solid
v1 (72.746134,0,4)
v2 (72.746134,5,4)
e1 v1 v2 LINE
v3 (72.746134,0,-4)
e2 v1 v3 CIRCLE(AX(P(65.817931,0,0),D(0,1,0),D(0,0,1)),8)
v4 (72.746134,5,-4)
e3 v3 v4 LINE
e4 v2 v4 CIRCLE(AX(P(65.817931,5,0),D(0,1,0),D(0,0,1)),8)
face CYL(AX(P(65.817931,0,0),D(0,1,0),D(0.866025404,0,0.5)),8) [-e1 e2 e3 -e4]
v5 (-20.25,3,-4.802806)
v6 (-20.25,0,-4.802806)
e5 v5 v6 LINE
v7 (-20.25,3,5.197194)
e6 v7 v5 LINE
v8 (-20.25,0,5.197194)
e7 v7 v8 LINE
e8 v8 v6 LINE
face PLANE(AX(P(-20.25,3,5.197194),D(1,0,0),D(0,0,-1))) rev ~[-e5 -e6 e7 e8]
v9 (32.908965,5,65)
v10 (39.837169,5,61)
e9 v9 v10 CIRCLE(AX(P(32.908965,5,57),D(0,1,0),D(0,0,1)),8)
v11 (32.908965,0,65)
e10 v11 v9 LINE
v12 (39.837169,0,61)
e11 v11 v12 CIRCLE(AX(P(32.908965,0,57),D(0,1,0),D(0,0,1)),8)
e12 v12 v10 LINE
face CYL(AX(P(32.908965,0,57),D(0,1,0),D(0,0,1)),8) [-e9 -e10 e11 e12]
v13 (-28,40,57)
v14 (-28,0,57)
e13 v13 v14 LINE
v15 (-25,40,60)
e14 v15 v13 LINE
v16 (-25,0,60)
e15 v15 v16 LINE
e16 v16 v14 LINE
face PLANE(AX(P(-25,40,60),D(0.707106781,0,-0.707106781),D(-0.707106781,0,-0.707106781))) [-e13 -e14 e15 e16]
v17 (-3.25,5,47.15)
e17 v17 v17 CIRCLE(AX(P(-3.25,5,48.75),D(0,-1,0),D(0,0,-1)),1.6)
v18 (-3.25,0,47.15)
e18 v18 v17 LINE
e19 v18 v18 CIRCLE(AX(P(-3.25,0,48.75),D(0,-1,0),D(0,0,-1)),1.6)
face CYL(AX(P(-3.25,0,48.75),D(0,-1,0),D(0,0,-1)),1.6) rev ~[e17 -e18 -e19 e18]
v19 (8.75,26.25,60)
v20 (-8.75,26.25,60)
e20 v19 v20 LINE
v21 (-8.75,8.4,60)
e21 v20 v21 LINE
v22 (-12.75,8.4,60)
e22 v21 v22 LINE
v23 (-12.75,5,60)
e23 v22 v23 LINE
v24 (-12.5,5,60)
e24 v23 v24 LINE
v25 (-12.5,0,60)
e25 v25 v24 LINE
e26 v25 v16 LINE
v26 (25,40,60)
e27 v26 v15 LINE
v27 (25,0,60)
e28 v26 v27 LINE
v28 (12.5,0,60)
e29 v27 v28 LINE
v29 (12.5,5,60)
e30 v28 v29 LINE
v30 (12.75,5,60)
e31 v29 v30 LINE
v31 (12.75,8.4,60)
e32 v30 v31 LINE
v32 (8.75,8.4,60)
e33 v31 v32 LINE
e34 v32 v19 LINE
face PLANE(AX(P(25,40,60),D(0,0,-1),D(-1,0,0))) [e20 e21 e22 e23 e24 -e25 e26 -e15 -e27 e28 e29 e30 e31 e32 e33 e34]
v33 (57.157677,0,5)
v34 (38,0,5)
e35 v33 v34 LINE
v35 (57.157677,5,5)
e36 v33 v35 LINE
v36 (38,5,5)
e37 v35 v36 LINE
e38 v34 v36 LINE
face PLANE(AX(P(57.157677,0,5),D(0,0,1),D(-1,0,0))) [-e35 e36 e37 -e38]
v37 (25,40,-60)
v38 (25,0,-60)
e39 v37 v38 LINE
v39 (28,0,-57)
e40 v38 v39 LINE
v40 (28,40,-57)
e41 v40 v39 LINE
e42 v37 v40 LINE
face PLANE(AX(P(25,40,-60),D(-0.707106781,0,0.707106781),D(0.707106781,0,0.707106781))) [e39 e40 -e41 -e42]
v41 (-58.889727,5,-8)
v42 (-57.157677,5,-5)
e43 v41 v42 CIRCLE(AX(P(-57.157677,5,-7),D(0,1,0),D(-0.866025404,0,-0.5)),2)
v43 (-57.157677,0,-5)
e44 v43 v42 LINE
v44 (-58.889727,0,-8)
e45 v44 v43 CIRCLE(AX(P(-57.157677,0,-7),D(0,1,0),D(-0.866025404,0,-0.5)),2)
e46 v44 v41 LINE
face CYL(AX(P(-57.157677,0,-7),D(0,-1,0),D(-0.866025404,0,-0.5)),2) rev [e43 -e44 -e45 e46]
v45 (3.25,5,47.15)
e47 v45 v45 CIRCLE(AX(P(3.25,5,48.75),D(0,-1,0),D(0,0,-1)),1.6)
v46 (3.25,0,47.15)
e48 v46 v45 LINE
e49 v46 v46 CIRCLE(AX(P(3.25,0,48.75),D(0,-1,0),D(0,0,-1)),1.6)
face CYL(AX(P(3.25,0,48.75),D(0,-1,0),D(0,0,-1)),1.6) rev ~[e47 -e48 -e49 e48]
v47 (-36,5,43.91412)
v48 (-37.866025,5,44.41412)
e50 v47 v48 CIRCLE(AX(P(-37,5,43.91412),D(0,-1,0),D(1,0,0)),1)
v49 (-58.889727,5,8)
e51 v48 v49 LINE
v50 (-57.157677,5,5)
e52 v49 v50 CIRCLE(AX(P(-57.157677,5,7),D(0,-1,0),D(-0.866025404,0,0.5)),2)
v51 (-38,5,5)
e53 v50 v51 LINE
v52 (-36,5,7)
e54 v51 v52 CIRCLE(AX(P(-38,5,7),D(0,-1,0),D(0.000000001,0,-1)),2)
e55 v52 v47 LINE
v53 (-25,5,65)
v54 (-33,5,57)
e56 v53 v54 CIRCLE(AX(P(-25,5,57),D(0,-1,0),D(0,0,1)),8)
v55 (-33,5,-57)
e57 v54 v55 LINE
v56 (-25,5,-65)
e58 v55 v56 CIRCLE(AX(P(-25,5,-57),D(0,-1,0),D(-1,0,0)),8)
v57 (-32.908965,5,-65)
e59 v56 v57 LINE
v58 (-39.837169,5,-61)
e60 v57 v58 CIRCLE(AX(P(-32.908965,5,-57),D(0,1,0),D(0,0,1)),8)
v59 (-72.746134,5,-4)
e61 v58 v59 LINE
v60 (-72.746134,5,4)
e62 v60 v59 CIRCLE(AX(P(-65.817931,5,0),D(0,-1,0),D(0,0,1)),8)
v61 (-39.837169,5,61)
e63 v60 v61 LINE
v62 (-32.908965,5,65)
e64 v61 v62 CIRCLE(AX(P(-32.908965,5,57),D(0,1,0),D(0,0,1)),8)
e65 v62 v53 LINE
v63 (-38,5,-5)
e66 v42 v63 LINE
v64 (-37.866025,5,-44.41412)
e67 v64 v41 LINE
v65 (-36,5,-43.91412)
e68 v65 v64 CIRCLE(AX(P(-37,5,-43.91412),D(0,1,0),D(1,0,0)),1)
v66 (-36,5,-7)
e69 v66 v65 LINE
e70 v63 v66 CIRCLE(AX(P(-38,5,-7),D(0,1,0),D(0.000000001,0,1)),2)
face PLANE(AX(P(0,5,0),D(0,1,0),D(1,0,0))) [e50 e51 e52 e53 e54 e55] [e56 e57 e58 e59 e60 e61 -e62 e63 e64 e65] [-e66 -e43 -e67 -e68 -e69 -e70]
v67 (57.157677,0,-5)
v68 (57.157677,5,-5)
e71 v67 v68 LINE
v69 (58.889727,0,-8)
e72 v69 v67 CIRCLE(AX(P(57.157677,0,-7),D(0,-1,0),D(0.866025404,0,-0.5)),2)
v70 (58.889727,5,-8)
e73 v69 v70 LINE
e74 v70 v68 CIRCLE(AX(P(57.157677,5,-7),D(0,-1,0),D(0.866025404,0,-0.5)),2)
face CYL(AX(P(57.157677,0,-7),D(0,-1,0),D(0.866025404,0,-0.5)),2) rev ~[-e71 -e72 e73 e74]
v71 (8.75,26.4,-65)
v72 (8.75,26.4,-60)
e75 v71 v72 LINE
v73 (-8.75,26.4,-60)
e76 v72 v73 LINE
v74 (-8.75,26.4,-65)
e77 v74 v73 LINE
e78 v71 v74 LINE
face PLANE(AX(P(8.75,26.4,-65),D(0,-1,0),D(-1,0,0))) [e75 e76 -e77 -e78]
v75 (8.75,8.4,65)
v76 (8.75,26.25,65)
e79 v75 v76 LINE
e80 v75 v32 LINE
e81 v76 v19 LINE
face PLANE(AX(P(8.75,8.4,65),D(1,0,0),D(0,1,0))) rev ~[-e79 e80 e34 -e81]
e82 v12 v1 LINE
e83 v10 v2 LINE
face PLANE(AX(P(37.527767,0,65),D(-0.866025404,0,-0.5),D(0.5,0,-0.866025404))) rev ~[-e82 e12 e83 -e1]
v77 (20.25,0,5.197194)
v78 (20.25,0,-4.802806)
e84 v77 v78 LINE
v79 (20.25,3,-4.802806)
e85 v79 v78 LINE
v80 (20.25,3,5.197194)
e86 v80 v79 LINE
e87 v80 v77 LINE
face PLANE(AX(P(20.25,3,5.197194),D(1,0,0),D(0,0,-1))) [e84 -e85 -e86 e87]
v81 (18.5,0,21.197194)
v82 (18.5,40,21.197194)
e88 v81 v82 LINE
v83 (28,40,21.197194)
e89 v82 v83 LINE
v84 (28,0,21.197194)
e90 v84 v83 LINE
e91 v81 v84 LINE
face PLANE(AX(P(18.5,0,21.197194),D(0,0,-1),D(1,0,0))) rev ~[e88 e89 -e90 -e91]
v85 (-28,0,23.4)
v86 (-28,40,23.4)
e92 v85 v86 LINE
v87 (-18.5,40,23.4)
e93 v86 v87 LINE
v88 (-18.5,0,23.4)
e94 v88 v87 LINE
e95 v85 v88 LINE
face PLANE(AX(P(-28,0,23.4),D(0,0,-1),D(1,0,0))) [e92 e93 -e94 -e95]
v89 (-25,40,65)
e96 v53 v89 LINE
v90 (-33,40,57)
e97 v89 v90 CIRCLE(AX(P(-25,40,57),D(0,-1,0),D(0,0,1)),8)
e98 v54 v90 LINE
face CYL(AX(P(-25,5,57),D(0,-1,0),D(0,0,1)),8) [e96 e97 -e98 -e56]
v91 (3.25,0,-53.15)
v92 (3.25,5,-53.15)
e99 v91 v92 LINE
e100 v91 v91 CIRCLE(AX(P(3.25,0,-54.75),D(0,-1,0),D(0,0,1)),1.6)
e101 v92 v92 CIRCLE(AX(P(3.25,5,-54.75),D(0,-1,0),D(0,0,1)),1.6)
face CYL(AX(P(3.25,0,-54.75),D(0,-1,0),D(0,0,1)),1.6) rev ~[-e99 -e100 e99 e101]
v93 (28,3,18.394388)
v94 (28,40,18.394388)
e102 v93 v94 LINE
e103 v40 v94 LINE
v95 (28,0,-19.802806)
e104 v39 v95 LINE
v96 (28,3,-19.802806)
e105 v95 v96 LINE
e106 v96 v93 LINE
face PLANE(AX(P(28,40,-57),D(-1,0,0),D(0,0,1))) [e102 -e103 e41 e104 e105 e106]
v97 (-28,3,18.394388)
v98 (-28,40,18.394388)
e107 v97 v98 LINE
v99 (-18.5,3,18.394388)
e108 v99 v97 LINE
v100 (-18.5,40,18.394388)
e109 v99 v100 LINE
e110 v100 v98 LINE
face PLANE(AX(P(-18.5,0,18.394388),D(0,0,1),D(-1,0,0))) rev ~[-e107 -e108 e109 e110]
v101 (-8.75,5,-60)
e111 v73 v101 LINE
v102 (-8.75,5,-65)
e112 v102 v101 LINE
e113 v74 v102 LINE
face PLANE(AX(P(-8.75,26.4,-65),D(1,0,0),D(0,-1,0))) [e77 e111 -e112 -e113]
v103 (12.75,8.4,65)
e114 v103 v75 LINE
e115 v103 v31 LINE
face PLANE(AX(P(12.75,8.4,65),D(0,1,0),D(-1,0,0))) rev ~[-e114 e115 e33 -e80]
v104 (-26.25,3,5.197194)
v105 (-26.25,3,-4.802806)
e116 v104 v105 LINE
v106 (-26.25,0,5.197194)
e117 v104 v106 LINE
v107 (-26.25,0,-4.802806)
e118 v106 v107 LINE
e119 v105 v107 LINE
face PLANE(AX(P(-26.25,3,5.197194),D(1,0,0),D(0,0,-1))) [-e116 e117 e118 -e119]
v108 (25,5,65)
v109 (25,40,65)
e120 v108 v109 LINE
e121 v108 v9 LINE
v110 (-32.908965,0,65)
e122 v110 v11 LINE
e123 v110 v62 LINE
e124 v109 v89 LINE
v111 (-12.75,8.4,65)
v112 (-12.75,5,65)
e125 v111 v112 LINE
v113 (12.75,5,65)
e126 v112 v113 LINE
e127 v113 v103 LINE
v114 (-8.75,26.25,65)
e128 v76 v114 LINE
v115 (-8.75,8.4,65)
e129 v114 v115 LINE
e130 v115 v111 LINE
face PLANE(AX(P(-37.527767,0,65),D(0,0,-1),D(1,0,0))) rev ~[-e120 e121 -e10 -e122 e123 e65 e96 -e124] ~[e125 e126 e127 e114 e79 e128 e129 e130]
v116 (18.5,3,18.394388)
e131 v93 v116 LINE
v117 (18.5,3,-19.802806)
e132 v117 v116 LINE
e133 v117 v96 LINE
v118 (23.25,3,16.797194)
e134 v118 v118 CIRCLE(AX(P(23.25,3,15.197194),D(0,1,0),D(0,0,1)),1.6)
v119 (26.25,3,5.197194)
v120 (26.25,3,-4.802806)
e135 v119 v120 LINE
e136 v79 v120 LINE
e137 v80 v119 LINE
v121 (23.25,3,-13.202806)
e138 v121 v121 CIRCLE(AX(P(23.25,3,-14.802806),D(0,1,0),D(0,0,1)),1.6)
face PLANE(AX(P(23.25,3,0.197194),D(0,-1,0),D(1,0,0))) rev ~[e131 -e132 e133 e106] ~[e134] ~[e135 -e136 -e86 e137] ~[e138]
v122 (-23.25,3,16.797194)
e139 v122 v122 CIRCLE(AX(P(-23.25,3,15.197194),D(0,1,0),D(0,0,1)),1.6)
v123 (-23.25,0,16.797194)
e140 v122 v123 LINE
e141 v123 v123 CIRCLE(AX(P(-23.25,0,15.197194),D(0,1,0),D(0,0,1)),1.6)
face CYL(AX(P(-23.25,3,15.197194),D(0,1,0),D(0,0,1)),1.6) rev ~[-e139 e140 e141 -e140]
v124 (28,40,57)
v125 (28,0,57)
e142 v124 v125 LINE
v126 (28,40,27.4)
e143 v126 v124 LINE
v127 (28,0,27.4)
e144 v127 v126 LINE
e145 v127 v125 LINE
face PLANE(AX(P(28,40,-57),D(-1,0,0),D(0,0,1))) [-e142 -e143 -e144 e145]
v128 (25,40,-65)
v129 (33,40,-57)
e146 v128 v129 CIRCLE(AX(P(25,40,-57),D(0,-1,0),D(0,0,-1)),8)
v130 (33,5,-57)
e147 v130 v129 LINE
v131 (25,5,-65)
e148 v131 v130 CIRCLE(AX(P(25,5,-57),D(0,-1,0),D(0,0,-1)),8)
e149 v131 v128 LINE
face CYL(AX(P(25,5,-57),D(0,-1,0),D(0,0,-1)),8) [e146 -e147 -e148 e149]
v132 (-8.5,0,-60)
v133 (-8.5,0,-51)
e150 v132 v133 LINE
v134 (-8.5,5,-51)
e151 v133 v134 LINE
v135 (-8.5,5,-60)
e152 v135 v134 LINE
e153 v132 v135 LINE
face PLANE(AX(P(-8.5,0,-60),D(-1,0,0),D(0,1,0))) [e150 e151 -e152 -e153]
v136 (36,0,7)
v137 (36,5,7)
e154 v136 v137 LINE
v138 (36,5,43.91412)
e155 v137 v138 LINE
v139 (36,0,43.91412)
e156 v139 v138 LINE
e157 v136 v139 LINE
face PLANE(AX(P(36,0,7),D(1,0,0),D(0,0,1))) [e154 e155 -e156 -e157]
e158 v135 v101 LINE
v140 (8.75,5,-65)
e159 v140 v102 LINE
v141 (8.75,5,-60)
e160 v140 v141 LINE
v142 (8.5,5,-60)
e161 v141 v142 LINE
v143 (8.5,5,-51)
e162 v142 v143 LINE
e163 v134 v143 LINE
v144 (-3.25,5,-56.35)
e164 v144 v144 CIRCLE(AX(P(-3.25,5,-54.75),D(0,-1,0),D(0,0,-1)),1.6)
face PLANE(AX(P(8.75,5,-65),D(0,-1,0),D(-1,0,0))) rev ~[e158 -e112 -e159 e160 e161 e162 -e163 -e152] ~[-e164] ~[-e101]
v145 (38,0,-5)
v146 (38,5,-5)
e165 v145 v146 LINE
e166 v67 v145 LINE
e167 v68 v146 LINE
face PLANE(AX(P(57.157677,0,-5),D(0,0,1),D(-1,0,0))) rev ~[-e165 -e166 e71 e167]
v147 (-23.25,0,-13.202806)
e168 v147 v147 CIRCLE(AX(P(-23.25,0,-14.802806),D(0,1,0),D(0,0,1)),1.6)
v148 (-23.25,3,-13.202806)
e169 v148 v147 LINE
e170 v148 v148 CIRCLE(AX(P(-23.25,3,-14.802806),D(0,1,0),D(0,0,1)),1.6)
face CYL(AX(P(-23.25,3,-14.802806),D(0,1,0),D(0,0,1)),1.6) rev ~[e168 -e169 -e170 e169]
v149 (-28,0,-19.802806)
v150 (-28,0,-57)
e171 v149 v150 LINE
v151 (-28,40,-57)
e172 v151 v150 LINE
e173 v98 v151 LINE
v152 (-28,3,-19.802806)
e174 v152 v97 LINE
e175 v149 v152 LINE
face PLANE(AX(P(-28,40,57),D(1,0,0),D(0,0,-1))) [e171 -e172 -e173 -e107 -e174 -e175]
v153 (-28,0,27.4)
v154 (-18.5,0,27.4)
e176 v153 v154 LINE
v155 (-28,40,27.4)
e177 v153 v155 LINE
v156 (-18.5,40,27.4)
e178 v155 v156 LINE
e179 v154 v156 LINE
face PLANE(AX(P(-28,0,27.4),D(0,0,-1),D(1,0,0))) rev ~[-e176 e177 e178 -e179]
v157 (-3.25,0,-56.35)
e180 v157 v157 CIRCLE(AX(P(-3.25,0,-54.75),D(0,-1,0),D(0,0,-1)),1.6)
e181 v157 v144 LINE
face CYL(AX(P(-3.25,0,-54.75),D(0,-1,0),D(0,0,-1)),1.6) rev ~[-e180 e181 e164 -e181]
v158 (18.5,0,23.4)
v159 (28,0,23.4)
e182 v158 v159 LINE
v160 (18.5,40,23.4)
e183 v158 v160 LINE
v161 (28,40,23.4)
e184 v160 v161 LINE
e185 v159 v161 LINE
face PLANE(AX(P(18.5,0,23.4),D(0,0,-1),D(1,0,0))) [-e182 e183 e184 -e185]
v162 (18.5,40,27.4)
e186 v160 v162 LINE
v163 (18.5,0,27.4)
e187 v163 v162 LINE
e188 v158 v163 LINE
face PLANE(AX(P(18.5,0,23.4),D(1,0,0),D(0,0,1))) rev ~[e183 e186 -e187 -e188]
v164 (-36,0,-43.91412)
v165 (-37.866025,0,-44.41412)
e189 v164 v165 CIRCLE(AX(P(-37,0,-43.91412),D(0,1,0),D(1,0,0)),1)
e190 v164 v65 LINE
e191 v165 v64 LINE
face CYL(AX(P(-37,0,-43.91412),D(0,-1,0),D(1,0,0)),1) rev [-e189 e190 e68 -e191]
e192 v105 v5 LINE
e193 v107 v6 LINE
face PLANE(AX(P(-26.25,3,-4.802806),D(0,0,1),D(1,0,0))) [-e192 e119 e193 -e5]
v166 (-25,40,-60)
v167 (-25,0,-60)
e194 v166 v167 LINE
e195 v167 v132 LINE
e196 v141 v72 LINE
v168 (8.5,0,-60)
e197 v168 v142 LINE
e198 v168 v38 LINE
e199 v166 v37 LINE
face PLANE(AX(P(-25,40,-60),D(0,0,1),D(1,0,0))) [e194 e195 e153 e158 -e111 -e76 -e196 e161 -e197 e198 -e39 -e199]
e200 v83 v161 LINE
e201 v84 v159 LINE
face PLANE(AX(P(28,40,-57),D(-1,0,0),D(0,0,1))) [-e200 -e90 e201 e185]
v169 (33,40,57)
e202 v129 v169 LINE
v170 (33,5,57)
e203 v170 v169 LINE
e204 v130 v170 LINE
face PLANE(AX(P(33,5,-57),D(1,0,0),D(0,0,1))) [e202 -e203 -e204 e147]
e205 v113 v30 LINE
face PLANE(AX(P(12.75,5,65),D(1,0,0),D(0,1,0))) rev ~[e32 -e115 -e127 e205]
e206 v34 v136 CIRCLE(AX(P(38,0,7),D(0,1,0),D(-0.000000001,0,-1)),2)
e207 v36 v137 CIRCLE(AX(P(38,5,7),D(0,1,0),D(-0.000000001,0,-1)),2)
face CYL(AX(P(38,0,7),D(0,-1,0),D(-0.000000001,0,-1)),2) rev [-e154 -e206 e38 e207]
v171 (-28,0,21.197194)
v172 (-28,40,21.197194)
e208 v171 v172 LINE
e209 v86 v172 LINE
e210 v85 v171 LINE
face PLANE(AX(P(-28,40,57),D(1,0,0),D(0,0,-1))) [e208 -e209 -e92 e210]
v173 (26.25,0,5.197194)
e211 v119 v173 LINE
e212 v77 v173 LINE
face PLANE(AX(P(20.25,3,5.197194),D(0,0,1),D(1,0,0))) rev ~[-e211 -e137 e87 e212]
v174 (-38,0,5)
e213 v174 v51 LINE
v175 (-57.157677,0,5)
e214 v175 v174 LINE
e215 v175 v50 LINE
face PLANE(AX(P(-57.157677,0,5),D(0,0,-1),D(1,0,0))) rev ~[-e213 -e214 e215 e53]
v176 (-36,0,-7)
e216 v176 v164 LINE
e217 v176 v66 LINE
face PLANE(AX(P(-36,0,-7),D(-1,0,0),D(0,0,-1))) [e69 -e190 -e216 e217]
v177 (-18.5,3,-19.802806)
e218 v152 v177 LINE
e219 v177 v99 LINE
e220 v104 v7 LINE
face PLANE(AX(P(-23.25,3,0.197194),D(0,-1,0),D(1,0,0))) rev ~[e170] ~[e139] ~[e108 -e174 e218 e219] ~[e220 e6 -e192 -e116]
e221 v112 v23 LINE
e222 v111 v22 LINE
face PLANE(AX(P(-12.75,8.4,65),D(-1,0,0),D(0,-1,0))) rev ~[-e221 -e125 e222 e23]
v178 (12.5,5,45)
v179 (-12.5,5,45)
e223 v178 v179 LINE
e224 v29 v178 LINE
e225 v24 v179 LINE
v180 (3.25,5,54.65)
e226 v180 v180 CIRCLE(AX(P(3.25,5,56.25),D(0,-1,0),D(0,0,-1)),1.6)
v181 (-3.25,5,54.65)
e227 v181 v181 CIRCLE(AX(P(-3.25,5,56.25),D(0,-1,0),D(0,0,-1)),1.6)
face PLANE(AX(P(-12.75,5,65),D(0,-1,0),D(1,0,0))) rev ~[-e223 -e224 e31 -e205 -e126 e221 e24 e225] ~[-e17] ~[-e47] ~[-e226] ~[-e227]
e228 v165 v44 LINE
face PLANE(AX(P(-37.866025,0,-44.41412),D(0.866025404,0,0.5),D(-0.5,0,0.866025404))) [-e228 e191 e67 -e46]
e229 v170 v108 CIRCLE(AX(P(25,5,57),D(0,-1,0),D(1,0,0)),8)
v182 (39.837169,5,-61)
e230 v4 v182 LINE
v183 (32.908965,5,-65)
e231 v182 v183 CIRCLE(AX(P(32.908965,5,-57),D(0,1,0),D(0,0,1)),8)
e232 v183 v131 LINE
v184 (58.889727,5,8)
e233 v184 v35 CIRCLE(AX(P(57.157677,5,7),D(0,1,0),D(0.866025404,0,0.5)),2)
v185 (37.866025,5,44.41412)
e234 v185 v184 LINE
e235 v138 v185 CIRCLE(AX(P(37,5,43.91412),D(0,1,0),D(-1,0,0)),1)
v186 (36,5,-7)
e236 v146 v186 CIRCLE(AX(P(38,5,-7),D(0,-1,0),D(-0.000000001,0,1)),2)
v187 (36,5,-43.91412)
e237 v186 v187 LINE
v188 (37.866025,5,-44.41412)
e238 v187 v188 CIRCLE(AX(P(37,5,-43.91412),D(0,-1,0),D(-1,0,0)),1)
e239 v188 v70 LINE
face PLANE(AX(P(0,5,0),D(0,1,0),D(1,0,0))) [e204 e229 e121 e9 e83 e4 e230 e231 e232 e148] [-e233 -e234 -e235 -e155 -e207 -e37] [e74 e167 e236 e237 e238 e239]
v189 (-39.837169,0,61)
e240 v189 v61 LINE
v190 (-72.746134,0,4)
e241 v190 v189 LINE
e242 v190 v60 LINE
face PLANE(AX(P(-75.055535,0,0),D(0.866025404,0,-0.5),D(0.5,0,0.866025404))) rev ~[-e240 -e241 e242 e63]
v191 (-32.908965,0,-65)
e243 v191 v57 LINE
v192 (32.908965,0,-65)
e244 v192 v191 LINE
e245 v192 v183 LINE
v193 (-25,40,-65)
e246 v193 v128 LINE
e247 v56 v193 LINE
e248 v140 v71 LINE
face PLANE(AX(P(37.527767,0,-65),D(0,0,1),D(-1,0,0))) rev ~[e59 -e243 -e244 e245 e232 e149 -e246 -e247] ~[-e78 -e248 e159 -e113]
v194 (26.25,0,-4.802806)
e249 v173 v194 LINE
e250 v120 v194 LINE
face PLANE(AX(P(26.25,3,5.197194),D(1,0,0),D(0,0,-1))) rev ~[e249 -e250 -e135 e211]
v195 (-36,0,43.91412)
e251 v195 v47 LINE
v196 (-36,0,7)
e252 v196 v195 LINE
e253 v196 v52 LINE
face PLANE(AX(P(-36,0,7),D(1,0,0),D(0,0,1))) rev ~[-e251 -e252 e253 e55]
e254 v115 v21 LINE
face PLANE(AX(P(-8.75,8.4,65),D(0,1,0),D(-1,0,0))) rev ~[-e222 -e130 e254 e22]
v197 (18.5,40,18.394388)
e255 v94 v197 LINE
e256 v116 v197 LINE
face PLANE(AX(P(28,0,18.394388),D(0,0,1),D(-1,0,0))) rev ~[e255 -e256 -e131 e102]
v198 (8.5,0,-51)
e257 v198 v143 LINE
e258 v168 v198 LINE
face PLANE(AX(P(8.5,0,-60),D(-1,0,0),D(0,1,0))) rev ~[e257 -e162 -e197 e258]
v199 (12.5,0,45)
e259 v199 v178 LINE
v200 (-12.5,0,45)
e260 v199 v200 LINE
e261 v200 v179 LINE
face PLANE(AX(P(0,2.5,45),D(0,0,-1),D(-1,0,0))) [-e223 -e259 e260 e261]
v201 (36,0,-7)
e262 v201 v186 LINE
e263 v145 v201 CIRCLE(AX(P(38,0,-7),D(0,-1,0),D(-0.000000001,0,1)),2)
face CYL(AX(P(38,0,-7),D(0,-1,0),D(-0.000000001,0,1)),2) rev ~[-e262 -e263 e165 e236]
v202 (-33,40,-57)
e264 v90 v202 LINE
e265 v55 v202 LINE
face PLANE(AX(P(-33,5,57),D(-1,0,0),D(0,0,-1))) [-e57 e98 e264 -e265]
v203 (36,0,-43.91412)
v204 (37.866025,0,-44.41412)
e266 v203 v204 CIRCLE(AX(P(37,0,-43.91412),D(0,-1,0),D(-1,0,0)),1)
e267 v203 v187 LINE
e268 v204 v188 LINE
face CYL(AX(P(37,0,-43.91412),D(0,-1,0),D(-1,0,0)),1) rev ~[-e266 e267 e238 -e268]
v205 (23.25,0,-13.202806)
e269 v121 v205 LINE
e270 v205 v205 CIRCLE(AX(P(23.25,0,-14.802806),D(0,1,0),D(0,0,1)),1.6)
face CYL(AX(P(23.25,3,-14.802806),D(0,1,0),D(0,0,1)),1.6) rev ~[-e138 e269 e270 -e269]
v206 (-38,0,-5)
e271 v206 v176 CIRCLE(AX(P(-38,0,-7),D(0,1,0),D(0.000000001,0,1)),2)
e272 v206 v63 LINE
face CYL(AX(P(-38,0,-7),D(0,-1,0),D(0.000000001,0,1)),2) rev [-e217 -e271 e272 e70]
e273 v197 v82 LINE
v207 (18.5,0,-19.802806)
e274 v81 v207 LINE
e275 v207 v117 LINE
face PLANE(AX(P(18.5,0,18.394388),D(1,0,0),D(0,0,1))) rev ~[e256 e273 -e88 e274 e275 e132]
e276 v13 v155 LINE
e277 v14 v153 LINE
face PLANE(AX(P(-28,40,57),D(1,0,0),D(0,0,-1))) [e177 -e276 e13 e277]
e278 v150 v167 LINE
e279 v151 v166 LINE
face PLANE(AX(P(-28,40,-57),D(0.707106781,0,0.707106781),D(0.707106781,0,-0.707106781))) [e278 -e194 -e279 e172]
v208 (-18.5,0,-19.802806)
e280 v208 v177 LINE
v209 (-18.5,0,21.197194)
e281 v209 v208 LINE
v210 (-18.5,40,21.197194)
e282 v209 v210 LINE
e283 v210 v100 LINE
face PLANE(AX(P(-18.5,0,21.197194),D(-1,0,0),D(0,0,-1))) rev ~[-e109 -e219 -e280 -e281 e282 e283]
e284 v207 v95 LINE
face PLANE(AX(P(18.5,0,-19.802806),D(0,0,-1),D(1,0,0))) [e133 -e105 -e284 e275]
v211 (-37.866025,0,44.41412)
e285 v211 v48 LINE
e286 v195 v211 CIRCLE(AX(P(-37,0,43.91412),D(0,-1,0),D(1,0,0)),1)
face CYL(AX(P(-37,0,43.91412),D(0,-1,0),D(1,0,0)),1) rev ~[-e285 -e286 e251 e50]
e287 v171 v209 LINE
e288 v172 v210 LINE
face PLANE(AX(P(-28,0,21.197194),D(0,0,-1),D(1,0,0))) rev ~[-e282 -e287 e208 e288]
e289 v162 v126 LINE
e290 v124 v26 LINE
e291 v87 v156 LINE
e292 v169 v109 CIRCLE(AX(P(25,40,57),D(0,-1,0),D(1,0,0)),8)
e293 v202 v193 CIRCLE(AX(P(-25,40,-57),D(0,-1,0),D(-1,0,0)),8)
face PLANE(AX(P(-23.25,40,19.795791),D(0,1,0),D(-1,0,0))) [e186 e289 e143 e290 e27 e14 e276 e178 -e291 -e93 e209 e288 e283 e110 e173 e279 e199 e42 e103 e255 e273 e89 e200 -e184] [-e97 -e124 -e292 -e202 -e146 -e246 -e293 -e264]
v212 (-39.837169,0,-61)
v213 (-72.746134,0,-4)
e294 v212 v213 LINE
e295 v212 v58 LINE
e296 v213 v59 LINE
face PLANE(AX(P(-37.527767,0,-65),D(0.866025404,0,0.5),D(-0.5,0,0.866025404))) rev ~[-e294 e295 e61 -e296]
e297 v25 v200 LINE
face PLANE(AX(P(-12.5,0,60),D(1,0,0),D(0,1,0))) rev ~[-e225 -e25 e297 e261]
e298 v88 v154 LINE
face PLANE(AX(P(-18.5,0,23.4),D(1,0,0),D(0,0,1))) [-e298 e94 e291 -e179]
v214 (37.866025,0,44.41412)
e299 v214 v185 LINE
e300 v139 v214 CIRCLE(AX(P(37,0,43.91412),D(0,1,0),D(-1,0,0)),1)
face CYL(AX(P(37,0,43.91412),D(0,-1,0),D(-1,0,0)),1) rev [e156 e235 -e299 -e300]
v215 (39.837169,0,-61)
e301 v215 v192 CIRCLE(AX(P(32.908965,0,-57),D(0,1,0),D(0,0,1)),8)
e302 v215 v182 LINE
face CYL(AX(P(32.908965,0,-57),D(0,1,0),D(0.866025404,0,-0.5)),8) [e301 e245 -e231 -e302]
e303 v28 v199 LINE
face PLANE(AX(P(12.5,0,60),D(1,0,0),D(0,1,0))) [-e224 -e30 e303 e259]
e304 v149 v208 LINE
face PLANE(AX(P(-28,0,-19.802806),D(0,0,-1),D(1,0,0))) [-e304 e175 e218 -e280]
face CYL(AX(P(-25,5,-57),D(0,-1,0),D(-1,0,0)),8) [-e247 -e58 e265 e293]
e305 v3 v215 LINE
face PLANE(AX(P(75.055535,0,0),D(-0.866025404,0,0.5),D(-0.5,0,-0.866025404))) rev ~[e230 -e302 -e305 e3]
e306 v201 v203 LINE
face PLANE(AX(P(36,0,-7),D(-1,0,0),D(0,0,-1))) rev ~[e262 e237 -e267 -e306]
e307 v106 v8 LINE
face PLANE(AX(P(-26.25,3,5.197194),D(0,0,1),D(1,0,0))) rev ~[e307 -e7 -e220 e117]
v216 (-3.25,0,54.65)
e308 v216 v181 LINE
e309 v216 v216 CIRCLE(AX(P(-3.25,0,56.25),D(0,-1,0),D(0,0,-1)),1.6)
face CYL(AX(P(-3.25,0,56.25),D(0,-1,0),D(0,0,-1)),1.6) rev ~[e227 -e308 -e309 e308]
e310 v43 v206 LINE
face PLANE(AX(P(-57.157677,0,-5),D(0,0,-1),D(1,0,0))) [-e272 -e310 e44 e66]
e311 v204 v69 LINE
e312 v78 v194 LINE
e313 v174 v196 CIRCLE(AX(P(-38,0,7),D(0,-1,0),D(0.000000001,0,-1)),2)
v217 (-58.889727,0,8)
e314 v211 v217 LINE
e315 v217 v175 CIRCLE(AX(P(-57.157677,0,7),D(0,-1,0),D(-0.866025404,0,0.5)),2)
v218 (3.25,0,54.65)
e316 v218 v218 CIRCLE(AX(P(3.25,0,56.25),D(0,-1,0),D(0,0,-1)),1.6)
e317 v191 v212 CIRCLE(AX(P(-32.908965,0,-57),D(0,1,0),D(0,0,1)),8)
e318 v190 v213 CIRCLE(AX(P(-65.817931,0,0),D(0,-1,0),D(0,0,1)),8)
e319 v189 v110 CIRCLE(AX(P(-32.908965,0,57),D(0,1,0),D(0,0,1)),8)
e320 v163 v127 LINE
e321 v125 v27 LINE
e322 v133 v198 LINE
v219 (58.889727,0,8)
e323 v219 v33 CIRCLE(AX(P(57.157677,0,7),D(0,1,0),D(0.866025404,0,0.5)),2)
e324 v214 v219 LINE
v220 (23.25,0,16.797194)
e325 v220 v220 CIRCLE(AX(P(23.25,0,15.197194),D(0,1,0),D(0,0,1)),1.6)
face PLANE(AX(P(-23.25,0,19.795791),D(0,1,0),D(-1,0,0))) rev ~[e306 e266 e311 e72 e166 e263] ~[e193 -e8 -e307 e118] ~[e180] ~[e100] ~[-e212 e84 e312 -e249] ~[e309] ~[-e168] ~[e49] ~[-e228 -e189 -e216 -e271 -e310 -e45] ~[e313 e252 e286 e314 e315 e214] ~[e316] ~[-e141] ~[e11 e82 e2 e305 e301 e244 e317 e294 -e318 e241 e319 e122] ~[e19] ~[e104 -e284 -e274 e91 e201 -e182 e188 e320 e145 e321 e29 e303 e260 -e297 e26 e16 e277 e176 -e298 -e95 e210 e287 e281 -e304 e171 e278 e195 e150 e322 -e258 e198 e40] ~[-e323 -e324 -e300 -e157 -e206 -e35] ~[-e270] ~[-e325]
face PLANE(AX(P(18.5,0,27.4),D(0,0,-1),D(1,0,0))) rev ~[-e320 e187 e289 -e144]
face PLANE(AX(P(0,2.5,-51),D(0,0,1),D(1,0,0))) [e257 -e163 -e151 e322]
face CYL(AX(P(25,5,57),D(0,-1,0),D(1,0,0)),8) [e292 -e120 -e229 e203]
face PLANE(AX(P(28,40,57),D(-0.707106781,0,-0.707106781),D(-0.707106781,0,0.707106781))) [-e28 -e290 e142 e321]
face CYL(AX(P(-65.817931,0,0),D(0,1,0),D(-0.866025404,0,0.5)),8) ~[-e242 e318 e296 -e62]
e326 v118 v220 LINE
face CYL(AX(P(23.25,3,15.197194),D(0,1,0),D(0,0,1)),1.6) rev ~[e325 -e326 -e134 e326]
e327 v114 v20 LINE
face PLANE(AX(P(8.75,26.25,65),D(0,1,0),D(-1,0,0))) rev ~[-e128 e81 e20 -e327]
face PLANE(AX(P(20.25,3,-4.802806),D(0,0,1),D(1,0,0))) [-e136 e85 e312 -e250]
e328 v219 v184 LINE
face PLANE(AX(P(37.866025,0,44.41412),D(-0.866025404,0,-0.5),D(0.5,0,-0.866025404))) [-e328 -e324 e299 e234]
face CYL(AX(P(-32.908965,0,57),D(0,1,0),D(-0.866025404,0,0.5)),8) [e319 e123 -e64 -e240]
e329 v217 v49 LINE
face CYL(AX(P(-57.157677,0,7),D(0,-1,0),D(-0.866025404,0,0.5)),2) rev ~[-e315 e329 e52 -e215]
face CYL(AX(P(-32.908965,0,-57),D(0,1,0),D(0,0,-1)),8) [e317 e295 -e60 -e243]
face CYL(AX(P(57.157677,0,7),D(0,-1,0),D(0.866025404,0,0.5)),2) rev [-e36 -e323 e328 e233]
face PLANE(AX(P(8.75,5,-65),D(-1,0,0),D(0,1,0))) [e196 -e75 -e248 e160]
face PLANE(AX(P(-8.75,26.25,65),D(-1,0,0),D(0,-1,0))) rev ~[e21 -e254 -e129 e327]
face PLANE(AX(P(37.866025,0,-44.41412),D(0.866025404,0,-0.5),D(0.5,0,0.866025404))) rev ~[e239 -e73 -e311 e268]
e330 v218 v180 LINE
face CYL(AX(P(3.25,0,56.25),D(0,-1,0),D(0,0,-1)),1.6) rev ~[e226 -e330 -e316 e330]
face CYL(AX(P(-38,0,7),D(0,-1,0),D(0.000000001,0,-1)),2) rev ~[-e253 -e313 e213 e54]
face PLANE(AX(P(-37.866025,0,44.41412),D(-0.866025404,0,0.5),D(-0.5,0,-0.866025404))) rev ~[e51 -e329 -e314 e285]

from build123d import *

# Parameters (mm, degrees)
BOSS_EXTRUDE1_DEPTH = 5
FILLET1_R           = 8
BOSS_EXTRUDE2_DEPTH = 35
CUT_EXTRUDE1_DEPTH  = 40
CUT_EXTRUDE2_DEPTH  = 5
SKETCH9_W           = 9.5
SKETCH9_H           = 40
BOSS_EXTRUDE3_DEPTH = 3
SKETCH10_R          = 1.6
SKETCH10_W          = 6
SKETCH10_H          = 10
CUT_EXTRUDE3_DEPTH  = 3
SKETCH11_W          = 9.5
SKETCH11_H          = 4
BOSS_EXTRUDE4_DEPTH = 40
SKETCH13_W          = 25
SKETCH13_H          = 5
BOSS_EXTRUDE5_DEPTH = 15
SKETCH15_R          = 1.6
CUT_EXTRUDE4_DEPTH  = 5
CUT_EXTRUDE5_DEPTH  = 5
SKETCH17_W          = 17
SKETCH17_H          = 5
BOSS_EXTRUDE6_DEPTH = 9
SKETCH18_R          = 1.6
CUT_EXTRUDE6_DEPTH  = 5
CUT_EXTRUDE8_DEPTH  = 5


with BuildPart() as part:
    # Sketch1 → Boss-Extrude1 (new body)
    with BuildSketch(Plane(origin=(0, 0, 0), x_dir=(1, 0, 0), z_dir=(0, 1, 0))):
        Polygon((-75.055534995, 0), (-37.527767497, -65), (37.527767497, -65), (75.055534995, 0), (37.527767497, 65), (-37.527767497, 65), align=None)
    extrude(amount=BOSS_EXTRUDE1_DEPTH)

    # Fillet1
    fillet1_edges = [part.edges().sort_by_distance(p)[0] for p in [
        (-37.527767497, 2.5, -65),
        (37.527767497, 2.5, -65),
        (75.055534995, 2.5, 0),
        (37.527767497, 2.5, 65),
        (-37.527767497, 2.5, 65),
        (-75.055534995, 2.5, 0),
    ]]
    fillet(fillet1_edges, radius=FILLET1_R)

    # Sketch3 → Boss-Extrude2 (add)
    with BuildSketch(Plane(origin=(0, 5, 0), x_dir=(1, 0, 0), z_dir=(0, 1, 0))):
        with BuildLine():
            Line((-25, 65), (25, 65))
            ThreePointArc((25, 65), (30.656854249, 62.656854249), (33, 57))
            Line((33, 57), (33, -57))
            ThreePointArc((33, -57), (30.656854249, -62.656854249), (25, -65))
            Line((25, -65), (-25, -65))
            ThreePointArc((-25, -65), (-30.656854249, -62.656854249), (-33, -57))
            Line((-33, -57), (-33, 57))
            ThreePointArc((-33, 57), (-30.656854249, 62.656854249), (-25, 65))
        make_face()
    extrude(amount=BOSS_EXTRUDE2_DEPTH)

    # Sketch4 → Cut-Extrude1 (cut)
    with BuildSketch(Plane(origin=(0, 40, 0), x_dir=(1, 0, 0), z_dir=(0, 1, 0))):
        Polygon((-28, 57), (-25, 60), (25, 60), (28, 57), (28, -57), (25, -60), (-25, -60), (-28, -57), align=None)
    extrude(amount=-CUT_EXTRUDE1_DEPTH, mode=Mode.SUBTRACT)

    # Sketch8 → Cut-Extrude2 (cut)
    with BuildSketch(Plane(origin=(0, 0, 0), x_dir=(1, 0, 0), z_dir=(0, 1, 0))):
        with BuildLine():
            Line((-37.866025404, 44.41412012), (-58.889727457, 8))
            ThreePointArc((-58.889727457, 8), (-58.889727457, 6), (-57.15767665, 5))
            Line((-57.15767665, 5), (-38, 5))
            ThreePointArc((-38, 5), (-36.585786438, 5.585786438), (-36, 7))
            Line((-36, 7), (-36, 43.91412012))
            ThreePointArc((-36, 43.91412012), (-36.741180955, 44.880045946), (-37.866025404, 44.41412012))
        make_face()
        with BuildLine():
            Line((-36, -7), (-36, -43.91412012))
            ThreePointArc((-36, -43.91412012), (-36.741180955, -44.880045946), (-37.866025404, -44.41412012))
            Line((-37.866025404, -44.41412012), (-58.889727457, -8))
            ThreePointArc((-58.889727457, -8), (-58.889727457, -6), (-57.15767665, -5))
            Line((-57.15767665, -5), (-38, -5))
            ThreePointArc((-38, -5), (-36.585786438, -5.585786438), (-36, -7))
        make_face()
        with BuildLine():
            Line((37.866025404, -44.41412012), (58.889727457, -8))
            ThreePointArc((58.889727457, -8), (58.889727457, -6), (57.15767665, -5))
            Line((57.15767665, -5), (38, -5))
            ThreePointArc((38, -5), (36.585786438, -5.585786438), (36, -7))
            Line((36, -7), (36, -43.91412012))
            ThreePointArc((36, -43.91412012), (36.741180955, -44.880045946), (37.866025404, -44.41412012))
        make_face()
        with BuildLine():
            Line((36, 7), (36, 43.91412012))
            ThreePointArc((36, 43.91412012), (36.741180955, 44.880045946), (37.866025404, 44.41412012))
            Line((37.866025404, 44.41412012), (58.889727457, 8))
            ThreePointArc((58.889727457, 8), (58.889727457, 6), (57.15767665, 5))
            Line((57.15767665, 5), (38, 5))
            ThreePointArc((38, 5), (36.585786438, 5.585786438), (36, 7))
        make_face()
    extrude(amount=CUT_EXTRUDE2_DEPTH, mode=Mode.SUBTRACT)

    # Sketch9 → Boss-Extrude3 (add)
    with BuildSketch(Plane.XZ):
        with Locations((23.25, 0.197193855)):
            Rectangle(SKETCH9_W, SKETCH9_H)
        with Locations((-23.25, 0.197193855)):
            Rectangle(SKETCH9_W, SKETCH9_H)
    extrude(amount=-BOSS_EXTRUDE3_DEPTH)

    # Sketch10 → Cut-Extrude3 (cut)
    with BuildSketch(Plane(origin=(0, 3, 0), x_dir=(1, 0, 0), z_dir=(0, 1, 0))):
        with Locations(Location((23.25, -15.197193855, 0), (0, 0, 270))):
            Circle(SKETCH10_R)
        with Locations(Location((23.25, 14.802806145, 0), (0, 0, 270))):
            Circle(SKETCH10_R)
        with Locations(Location((-23.25, 14.802806145, 0), (0, 0, 270))):
            Circle(SKETCH10_R)
        with Locations(Location((-23.25, -15.197193855, 0), (0, 0, 270))):
            Circle(SKETCH10_R)
        with Locations((23.25, -0.197193855)):
            Rectangle(SKETCH10_W, SKETCH10_H)
        with Locations((-23.25, -0.197193855)):
            Rectangle(SKETCH10_W, SKETCH10_H)
    extrude(amount=-CUT_EXTRUDE3_DEPTH, mode=Mode.SUBTRACT)

    # Sketch11 → Boss-Extrude4 (add)
    with BuildSketch(Plane.XZ):
        with Locations((-23.25, 25.399999855)):
            Rectangle(SKETCH11_W, SKETCH11_H)
        Polygon((-28, 20.197193855), (-28, 21.197193855), (-18.5, 21.197193855), (-18.5, 18.394387855), (-28, 18.394387855), align=None)
        with Locations((23.25, 25.399999855)):
            Rectangle(SKETCH11_W, SKETCH11_H)
        Polygon((18.5, 21.197193855), (28, 21.197193855), (28, 20.197193855), (28, 18.394387855), (18.5, 18.394387855), align=None)
    extrude(amount=-BOSS_EXTRUDE4_DEPTH)

    # Sketch13 → Boss-Extrude5 (add)
    with BuildSketch(Plane(origin=(0, 0, 60), x_dir=(-1, 0, 0), z_dir=(0, 0, -1))):
        with Locations((0, 2.5)):
            Rectangle(SKETCH13_W, SKETCH13_H)
    extrude(amount=BOSS_EXTRUDE5_DEPTH)

    # Sketch15 → Cut-Extrude4 (cut)
    with BuildSketch(Plane.XZ):
        with Locations(Location((3.25, 48.75, 0), (0, 0, 270))):
            Circle(SKETCH15_R)
        with Locations(Location((3.25, 56.25, 0), (0, 0, 270))):
            Circle(SKETCH15_R)
        with Locations(Location((-3.25, 48.75, 0), (0, 0, 270))):
            Circle(SKETCH15_R)
        with Locations(Location((-3.25, 56.25, 0), (0, 0, 270))):
            Circle(SKETCH15_R)
    extrude(amount=-CUT_EXTRUDE4_DEPTH, mode=Mode.SUBTRACT)

    # Sketch16 → Cut-Extrude5 (cut)
    with BuildSketch(Plane.XY.offset(65)):
        Polygon((-12.75, 5), (12.75, 5), (12.75, 8.4), (8.75, 8.4), (8.75, 26.25), (-8.75, 26.25), (-8.75, 8.4), (-12.75, 8.4), align=None)
    extrude(amount=-CUT_EXTRUDE5_DEPTH, mode=Mode.SUBTRACT)

    # Sketch17 → Boss-Extrude6 (add)
    with BuildSketch(Plane.XY.offset(-60)):
        with Locations((0, 2.5)):
            Rectangle(SKETCH17_W, SKETCH17_H)
    extrude(amount=BOSS_EXTRUDE6_DEPTH)

    # Sketch18 → Cut-Extrude6 (cut)
    with BuildSketch(Plane.XZ):
        with Locations(Location((-3.25, -54.75, 0), (0, 0, 270))):
            Circle(SKETCH18_R)
        with Locations(Location((3.25, -54.75, 0), (0, 0, 90))):
            Circle(SKETCH18_R)
    extrude(amount=-CUT_EXTRUDE6_DEPTH, mode=Mode.SUBTRACT)

    # Sketch19 → Cut-Extrude8 (cut)
    with BuildSketch(Plane(origin=(0, 0, -65), x_dir=(-1, 0, 0), z_dir=(0, 0, -1))):
        Polygon((0, 5), (-8.75, 5), (-8.75, 26.4), (8.75, 26.4), (8.75, 5), align=None)
    extrude(amount=-CUT_EXTRUDE8_DEPTH, mode=Mode.SUBTRACT)


solid = part.part
